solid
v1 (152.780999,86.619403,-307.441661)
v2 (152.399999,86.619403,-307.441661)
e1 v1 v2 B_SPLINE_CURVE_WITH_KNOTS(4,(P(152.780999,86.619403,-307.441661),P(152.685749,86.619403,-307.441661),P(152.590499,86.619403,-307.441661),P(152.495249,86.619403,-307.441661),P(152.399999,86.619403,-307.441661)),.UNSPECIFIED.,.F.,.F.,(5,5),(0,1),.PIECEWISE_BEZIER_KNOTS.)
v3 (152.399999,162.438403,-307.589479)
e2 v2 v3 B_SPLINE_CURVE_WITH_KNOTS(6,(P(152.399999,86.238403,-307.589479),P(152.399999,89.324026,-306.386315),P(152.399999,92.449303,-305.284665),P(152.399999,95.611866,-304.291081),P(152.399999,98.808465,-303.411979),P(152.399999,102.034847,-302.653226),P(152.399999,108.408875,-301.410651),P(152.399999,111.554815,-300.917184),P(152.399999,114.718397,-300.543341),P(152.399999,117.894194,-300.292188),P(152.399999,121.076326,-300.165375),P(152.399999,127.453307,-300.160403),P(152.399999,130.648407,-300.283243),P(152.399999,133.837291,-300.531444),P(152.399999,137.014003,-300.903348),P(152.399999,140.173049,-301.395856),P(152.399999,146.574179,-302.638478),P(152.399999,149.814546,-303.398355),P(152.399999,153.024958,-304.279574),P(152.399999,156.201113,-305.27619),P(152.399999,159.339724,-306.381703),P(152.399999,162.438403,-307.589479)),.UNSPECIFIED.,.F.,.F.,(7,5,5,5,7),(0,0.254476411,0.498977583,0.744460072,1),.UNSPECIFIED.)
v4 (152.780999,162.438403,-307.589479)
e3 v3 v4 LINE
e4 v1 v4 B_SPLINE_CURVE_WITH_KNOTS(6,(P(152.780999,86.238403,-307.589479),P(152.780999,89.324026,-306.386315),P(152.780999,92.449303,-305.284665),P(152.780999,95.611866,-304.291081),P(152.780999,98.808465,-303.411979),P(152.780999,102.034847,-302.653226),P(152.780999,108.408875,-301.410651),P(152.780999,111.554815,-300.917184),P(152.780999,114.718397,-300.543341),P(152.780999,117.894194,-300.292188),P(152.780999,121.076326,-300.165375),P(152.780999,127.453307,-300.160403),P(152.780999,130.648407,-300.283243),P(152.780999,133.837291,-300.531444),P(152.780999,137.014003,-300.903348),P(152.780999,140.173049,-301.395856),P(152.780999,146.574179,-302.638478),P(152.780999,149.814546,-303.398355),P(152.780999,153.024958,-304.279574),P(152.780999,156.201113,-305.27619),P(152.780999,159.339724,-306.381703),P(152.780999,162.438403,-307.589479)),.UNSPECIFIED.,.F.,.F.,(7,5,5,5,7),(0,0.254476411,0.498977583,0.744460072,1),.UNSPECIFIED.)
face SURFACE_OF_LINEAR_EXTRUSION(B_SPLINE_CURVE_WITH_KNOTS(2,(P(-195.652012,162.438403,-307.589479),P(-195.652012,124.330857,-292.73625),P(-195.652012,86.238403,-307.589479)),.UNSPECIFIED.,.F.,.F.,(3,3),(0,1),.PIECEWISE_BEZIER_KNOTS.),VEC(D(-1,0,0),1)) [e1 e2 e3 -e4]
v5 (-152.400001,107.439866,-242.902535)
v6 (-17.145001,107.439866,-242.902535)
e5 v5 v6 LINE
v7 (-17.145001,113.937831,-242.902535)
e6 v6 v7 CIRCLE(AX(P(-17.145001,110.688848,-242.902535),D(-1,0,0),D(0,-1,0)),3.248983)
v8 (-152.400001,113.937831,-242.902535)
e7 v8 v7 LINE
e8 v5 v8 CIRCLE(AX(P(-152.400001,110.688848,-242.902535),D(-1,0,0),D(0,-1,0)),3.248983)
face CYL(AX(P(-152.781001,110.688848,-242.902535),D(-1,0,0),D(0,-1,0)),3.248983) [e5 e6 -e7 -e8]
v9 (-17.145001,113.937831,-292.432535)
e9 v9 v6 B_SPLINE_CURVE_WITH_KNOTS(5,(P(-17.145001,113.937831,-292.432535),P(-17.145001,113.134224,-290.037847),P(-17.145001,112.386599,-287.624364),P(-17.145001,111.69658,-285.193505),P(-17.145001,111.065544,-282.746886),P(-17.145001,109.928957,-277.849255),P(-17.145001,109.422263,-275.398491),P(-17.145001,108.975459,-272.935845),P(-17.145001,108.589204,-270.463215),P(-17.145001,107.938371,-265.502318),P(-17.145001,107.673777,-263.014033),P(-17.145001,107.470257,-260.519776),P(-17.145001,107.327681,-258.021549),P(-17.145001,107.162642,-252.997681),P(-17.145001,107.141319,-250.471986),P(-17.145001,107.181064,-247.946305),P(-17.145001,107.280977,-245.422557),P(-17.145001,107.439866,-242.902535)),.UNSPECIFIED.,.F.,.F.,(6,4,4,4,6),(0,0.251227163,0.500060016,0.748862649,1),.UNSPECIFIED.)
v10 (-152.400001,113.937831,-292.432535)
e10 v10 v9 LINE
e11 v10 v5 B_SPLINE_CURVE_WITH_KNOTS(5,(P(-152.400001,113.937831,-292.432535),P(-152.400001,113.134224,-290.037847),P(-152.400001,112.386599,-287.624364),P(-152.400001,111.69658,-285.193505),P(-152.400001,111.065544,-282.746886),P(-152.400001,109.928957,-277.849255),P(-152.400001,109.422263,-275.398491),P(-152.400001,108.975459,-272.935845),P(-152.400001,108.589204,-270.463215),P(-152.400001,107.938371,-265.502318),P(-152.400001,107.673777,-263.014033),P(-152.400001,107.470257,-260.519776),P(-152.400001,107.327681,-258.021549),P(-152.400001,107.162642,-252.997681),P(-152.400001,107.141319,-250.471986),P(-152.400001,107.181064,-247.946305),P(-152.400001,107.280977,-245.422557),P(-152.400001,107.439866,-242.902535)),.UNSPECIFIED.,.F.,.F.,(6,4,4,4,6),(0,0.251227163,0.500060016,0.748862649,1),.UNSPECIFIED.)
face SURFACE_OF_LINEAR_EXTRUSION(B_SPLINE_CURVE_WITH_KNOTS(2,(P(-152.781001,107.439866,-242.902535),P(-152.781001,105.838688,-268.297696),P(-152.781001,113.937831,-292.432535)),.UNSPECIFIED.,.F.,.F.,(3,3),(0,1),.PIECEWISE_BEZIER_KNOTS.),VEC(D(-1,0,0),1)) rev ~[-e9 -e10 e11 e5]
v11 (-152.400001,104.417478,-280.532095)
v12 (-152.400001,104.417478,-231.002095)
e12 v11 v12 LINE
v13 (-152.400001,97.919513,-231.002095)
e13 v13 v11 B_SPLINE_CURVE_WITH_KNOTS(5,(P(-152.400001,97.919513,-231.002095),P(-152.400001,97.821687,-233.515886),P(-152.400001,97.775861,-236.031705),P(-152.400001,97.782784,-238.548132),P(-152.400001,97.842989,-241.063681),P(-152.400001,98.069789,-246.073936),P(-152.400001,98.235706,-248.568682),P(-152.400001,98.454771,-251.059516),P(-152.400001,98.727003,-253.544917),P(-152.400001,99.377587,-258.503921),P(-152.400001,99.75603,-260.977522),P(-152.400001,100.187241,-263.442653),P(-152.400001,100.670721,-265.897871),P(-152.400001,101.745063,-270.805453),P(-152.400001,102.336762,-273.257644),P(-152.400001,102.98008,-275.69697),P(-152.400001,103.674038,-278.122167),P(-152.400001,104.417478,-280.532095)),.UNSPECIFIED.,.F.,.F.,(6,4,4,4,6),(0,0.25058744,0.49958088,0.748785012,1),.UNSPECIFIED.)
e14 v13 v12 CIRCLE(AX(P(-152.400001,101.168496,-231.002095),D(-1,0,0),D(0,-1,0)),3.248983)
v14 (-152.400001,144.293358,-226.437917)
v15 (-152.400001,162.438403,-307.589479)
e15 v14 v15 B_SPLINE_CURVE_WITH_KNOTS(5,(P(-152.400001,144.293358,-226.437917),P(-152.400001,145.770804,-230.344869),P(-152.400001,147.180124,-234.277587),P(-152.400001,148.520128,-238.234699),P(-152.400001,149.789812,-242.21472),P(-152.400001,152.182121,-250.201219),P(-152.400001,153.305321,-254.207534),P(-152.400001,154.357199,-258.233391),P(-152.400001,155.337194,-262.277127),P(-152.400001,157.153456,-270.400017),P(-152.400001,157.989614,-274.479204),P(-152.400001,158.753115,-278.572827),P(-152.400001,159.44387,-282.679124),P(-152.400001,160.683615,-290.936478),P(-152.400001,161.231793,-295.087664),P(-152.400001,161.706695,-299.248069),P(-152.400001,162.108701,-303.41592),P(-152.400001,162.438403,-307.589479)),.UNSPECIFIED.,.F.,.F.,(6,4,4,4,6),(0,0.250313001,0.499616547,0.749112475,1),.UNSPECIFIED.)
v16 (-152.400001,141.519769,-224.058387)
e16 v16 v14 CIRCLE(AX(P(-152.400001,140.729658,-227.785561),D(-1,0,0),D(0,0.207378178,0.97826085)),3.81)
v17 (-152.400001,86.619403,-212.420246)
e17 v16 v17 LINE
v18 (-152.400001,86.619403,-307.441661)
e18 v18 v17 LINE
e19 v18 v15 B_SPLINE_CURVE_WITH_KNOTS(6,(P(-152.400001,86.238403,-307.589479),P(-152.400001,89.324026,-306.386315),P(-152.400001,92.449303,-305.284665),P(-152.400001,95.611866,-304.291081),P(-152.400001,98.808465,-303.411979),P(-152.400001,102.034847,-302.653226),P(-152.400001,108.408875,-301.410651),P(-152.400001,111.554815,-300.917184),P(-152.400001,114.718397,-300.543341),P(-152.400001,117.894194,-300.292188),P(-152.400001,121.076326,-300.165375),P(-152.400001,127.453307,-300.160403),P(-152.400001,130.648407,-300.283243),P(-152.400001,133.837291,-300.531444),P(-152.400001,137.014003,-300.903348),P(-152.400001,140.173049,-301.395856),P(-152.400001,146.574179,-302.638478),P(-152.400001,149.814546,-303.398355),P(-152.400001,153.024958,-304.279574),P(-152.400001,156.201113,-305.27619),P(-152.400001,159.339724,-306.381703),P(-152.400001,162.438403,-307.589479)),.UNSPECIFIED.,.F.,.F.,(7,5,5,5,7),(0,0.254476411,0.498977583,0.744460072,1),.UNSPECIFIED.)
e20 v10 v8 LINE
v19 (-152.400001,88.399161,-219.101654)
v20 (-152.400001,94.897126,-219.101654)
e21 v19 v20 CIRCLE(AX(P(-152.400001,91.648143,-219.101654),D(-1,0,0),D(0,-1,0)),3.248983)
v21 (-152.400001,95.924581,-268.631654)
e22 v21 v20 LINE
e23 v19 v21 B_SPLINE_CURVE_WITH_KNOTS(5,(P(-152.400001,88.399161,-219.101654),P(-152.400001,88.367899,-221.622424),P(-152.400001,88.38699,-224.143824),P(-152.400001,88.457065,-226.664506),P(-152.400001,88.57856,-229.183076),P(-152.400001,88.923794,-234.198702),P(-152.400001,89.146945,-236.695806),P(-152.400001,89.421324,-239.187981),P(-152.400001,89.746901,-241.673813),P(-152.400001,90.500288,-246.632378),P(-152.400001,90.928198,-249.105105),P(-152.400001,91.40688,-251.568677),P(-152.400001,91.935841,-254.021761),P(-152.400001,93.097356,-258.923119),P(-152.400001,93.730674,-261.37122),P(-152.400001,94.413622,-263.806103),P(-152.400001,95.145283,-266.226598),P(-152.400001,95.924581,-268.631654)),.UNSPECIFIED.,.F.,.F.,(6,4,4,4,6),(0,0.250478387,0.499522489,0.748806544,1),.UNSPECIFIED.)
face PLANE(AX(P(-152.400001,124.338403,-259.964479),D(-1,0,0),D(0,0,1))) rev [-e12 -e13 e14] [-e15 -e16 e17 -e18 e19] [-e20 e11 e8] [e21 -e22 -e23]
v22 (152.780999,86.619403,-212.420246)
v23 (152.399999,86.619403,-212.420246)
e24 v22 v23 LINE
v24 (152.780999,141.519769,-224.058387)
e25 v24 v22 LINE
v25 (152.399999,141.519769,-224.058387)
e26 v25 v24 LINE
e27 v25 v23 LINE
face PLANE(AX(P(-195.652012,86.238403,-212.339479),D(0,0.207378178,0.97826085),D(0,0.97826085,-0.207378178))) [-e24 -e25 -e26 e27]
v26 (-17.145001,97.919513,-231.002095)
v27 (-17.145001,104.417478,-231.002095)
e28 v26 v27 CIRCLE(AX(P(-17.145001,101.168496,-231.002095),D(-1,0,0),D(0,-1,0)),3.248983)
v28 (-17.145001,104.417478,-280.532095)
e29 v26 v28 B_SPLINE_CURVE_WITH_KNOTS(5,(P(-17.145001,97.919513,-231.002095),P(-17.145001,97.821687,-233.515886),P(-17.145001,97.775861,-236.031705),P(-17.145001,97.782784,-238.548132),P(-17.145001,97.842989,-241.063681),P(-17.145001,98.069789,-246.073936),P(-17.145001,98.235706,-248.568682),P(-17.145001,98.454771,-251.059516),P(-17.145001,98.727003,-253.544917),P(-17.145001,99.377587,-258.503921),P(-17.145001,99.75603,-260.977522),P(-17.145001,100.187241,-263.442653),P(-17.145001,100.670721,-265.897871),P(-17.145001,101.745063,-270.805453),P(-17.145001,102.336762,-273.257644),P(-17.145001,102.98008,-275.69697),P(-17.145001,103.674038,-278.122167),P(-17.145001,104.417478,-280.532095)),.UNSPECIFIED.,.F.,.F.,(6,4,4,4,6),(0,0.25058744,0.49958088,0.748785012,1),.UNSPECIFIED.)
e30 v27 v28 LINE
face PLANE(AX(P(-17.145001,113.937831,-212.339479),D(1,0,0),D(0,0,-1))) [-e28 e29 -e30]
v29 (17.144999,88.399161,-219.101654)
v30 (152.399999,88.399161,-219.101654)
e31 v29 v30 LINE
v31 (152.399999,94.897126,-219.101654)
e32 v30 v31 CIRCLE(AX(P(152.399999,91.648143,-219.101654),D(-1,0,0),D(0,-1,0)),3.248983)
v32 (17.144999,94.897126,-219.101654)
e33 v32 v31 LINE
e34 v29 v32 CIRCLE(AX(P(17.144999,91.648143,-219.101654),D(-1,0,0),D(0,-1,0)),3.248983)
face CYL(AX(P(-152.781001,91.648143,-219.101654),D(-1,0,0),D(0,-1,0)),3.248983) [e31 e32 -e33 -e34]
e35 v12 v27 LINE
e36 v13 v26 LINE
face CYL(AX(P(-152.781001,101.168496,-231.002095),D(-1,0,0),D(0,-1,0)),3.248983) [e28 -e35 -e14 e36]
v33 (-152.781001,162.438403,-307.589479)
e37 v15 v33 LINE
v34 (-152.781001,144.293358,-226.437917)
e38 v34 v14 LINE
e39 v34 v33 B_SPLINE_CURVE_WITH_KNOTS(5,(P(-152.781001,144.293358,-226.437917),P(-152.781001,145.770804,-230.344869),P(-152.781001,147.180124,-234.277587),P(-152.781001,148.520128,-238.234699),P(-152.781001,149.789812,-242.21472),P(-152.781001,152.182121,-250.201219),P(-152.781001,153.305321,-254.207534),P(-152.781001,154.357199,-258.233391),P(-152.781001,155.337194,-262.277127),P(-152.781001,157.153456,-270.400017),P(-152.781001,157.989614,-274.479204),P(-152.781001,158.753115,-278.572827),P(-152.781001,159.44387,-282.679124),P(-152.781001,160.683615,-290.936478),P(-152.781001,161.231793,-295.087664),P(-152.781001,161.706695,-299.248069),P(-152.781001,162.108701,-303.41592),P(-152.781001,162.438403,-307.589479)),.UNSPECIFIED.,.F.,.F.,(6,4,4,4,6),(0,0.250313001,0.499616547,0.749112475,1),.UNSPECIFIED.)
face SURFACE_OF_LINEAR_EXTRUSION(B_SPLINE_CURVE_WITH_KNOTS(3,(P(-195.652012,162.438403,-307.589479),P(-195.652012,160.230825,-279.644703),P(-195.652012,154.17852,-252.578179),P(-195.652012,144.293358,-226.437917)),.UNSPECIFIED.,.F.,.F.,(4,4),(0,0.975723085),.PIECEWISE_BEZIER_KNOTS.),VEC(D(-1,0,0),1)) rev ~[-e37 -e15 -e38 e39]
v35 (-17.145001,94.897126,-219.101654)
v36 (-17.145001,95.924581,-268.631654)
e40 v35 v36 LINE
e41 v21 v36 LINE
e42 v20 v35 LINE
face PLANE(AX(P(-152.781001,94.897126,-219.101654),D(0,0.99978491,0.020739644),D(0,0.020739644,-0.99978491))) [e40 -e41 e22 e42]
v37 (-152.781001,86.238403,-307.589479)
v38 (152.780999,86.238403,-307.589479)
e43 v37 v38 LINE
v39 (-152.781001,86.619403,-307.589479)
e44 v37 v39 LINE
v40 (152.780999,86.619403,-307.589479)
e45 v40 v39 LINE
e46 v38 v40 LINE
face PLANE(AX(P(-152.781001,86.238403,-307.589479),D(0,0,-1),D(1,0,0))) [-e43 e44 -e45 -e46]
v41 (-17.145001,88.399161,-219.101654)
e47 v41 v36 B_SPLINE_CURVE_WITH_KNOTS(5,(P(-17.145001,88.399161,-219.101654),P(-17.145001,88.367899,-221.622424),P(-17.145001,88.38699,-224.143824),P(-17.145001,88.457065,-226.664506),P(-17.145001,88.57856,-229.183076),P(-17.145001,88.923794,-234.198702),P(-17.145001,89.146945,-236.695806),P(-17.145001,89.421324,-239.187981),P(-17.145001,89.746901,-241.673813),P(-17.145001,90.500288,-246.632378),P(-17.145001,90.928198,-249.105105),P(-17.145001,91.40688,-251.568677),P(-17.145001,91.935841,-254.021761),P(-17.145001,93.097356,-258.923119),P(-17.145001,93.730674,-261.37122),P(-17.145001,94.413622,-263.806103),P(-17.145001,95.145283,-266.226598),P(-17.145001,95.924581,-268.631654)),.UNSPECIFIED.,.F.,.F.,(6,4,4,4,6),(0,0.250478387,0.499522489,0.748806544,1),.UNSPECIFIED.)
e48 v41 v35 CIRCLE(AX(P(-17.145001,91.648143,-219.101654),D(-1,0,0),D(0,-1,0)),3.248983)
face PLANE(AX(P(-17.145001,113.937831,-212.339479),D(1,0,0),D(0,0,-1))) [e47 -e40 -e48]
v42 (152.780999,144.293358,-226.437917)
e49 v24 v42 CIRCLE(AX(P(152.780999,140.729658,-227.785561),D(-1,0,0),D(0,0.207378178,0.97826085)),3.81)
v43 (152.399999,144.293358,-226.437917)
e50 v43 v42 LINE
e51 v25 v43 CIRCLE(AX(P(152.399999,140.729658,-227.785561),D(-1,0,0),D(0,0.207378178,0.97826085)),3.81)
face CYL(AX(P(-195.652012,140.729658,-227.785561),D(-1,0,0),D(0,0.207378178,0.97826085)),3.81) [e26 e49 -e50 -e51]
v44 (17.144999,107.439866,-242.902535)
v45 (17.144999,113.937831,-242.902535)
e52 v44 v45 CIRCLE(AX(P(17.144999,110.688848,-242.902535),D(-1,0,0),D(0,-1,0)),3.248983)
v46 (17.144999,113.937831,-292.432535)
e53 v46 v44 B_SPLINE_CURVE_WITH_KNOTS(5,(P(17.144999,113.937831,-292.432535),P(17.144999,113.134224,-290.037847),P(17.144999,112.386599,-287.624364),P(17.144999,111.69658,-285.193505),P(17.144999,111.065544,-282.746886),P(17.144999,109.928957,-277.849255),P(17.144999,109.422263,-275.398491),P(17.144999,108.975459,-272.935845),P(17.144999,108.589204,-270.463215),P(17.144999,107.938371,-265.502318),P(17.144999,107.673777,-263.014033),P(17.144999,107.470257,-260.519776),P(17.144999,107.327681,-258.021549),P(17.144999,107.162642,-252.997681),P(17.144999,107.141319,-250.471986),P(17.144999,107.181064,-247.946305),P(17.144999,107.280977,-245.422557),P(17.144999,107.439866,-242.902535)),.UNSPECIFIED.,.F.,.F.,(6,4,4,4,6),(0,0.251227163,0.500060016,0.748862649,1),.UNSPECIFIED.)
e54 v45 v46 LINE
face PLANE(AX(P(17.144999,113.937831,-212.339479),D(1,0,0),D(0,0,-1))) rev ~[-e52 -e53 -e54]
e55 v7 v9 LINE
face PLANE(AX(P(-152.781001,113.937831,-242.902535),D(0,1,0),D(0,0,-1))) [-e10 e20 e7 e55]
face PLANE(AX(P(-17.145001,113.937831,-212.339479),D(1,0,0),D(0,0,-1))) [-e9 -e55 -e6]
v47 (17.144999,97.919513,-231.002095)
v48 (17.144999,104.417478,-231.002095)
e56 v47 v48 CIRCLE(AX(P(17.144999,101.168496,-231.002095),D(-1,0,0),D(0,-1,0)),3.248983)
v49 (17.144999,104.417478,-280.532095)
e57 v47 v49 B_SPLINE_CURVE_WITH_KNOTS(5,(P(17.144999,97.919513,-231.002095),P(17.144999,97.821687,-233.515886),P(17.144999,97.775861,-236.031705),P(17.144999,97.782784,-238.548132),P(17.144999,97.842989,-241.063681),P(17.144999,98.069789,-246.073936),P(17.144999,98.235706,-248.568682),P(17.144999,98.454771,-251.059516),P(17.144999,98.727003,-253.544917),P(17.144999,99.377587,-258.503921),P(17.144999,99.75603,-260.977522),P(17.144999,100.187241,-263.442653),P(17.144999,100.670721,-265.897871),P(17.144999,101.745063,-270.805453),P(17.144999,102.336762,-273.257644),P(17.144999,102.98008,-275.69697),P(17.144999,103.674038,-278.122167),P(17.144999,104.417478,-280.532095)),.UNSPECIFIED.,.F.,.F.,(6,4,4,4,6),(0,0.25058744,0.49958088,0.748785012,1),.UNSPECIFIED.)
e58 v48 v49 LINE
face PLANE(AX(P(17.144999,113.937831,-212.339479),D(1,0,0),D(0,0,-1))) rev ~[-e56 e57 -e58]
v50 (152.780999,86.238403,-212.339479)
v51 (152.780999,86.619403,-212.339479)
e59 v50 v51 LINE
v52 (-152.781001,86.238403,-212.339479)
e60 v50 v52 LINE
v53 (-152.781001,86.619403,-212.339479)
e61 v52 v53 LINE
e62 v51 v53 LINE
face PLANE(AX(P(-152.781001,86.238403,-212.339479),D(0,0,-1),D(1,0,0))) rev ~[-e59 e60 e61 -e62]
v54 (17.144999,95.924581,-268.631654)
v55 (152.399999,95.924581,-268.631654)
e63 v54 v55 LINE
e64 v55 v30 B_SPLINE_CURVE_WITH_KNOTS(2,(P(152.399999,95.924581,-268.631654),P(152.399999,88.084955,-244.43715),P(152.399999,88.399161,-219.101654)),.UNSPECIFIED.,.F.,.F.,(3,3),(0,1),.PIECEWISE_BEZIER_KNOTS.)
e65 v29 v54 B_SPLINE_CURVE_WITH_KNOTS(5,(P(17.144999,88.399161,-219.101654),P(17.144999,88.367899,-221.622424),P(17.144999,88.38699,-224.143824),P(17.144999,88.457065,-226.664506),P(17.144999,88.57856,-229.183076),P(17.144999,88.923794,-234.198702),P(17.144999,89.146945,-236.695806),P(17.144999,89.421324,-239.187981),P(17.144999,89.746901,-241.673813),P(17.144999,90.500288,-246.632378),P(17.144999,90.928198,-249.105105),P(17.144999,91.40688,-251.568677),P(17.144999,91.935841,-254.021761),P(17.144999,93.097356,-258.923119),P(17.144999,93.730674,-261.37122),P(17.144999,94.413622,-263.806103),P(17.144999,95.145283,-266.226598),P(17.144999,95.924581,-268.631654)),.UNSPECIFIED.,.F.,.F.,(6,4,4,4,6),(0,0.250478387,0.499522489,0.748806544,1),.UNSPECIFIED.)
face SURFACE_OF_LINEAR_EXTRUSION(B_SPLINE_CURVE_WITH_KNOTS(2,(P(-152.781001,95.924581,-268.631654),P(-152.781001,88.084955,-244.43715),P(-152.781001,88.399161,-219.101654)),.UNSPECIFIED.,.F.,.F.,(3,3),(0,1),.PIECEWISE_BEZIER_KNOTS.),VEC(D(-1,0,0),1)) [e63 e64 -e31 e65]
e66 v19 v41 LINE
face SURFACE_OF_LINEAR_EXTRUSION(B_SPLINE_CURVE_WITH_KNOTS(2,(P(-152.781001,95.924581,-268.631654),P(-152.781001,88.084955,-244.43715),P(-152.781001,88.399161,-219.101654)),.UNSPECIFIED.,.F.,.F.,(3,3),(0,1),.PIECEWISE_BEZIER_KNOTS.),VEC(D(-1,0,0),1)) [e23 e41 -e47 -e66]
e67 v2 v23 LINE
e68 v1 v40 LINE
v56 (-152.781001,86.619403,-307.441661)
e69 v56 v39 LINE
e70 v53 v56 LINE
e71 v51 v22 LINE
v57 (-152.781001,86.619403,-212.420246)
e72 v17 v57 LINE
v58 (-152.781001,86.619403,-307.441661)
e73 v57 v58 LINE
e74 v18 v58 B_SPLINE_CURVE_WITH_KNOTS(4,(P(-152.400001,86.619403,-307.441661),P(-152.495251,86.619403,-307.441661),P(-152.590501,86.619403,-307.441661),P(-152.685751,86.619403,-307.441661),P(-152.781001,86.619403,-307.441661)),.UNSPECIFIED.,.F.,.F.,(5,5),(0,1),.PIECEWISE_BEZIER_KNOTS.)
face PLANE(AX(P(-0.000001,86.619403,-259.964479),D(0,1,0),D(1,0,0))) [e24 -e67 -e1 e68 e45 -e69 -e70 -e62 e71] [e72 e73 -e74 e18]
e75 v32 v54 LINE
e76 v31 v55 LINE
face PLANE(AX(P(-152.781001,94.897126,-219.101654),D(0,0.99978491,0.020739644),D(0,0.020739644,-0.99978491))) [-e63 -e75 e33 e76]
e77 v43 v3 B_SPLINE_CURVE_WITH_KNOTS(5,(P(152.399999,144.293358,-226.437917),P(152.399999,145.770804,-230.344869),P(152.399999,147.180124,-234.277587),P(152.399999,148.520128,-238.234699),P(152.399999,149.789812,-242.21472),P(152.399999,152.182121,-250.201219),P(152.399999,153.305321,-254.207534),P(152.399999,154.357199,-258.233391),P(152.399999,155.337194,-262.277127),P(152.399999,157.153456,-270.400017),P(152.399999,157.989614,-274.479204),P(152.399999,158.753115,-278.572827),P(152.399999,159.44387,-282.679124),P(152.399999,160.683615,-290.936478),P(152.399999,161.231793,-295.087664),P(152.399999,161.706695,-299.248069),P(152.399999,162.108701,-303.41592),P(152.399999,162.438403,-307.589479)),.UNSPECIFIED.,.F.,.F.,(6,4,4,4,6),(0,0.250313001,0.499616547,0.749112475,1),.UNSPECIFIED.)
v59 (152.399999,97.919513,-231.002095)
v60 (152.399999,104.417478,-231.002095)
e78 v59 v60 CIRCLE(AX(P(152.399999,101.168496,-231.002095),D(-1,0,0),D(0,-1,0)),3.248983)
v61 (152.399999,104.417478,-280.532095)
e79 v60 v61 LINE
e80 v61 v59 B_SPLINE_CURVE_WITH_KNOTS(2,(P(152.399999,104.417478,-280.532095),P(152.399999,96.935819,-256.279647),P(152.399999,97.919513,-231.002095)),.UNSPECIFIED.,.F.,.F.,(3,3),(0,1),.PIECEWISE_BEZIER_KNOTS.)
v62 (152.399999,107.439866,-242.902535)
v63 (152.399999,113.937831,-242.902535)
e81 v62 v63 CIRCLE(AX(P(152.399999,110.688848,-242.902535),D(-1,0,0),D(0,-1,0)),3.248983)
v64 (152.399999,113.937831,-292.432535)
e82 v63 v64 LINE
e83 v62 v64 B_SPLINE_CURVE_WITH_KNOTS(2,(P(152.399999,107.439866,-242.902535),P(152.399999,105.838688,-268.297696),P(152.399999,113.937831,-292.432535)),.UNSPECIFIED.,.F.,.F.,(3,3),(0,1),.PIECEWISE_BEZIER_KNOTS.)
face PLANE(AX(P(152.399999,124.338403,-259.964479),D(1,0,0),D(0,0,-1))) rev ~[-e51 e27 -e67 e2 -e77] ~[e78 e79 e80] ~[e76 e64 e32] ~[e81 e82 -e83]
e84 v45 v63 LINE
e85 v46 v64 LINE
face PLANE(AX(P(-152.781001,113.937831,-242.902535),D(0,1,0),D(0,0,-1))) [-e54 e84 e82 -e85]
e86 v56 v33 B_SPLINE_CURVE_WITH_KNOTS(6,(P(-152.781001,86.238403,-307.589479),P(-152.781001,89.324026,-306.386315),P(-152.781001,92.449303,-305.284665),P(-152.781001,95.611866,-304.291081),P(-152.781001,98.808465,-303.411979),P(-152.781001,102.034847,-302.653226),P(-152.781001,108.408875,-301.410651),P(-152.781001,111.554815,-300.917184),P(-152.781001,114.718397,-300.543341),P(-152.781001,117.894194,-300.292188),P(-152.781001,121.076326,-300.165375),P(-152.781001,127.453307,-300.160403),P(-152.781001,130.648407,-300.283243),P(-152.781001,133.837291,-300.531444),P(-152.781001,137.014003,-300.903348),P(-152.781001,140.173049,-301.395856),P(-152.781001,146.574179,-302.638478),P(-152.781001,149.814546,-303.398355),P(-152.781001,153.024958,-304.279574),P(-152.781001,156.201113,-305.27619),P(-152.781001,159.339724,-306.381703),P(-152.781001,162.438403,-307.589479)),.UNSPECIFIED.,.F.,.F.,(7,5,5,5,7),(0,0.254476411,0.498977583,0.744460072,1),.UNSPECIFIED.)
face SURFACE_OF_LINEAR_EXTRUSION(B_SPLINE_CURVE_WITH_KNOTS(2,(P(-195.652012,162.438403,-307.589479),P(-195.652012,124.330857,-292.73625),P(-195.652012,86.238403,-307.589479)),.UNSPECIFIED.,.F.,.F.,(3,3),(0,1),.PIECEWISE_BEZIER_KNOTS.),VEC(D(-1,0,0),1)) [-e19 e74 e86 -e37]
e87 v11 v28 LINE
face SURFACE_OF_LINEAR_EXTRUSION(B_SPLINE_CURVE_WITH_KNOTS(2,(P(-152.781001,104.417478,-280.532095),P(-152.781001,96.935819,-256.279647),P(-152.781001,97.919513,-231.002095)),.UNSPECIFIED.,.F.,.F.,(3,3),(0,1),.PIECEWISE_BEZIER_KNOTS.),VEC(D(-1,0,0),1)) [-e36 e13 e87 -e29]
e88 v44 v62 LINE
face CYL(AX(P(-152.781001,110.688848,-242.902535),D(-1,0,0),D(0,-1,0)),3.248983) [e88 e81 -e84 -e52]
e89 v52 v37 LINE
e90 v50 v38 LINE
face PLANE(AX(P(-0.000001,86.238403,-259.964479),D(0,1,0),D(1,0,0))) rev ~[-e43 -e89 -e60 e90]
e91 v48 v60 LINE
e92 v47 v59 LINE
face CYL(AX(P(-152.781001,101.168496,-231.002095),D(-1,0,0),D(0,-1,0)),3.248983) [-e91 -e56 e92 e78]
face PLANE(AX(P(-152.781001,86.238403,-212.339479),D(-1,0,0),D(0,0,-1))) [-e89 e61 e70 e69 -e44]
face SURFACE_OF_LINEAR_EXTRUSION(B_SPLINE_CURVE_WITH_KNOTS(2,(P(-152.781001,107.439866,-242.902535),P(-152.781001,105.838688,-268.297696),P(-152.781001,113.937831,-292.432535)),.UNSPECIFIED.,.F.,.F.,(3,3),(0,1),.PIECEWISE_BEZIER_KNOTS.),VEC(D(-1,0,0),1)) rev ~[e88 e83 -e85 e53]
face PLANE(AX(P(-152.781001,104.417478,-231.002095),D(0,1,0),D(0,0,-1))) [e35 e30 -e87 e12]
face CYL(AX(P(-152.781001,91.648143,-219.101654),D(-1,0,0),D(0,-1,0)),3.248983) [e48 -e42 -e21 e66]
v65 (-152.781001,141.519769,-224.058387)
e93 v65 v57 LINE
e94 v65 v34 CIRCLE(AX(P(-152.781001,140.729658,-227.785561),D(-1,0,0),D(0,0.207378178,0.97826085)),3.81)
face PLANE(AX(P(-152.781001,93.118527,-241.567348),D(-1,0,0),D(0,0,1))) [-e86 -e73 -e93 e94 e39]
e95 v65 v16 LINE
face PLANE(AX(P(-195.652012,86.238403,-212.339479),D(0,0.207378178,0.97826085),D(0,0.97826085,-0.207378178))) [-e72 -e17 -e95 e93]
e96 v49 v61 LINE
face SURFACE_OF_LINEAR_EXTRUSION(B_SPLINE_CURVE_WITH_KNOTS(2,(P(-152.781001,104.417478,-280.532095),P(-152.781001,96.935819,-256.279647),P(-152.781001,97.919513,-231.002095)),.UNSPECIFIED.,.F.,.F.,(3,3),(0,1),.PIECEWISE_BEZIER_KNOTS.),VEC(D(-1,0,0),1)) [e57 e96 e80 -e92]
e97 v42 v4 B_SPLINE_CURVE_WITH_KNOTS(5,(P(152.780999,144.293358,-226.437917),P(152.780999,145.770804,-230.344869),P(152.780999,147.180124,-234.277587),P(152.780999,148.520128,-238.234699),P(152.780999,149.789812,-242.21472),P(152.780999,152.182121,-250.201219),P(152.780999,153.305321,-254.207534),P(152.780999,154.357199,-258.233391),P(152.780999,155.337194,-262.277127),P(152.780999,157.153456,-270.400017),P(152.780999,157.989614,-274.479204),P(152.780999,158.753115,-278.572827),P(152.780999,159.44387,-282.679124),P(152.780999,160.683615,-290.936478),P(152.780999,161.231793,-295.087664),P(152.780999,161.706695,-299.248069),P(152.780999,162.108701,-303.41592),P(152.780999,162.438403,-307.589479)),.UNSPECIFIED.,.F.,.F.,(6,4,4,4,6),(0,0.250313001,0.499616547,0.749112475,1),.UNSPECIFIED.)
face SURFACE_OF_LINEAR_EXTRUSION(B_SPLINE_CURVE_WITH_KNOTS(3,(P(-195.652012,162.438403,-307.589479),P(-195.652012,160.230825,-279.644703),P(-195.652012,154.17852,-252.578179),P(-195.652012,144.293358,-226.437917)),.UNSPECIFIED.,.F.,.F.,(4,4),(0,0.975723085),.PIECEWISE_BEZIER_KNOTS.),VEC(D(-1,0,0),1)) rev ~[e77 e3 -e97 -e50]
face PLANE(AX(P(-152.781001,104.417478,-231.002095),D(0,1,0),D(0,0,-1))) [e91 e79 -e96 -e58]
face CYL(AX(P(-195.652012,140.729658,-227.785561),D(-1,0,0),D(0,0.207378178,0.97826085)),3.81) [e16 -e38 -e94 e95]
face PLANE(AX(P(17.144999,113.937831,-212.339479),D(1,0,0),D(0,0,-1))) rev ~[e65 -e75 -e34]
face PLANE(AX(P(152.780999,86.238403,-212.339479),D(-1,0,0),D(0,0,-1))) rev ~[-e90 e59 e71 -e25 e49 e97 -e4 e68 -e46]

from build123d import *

# Parameters (mm, degrees)
BOSS_EXTRUDE1_START      = 1016
SKETCH1_W                = 635
SKETCH1_H                = 508
BOSS_EXTRUDE1_DEPTH      = 2.54
CUT_EXTRUDE1_DEPTH       = 1304.346742659
CUT_EXTRUDE1_DEPTH_BACK  = 1304.346742659
CUT_EXTRUDE2_DEPTH       = 1304.346742825
CUT_EXTRUDE2_DEPTH_BACK  = 1304.346742825
BOSS_EXTRUDE2_DEPTH      = 1016
BOSS_EXTRUDE2_DEPTH_BACK = 1018.54
SKETCH6_W                = 2037.0800025
SKETCH6_H                = 635
BOSS_EXTRUDE3_DEPTH      = 2.54
SKETCH7_W                = 228.6
SKETCH7_H                = 635
CUT_EXTRUDE3_DEPTH       = 182.122850144
SCALE1_SCALE             = 0.15


with BuildPart() as part:
    # Sketch1 → Boss-Extrude1 (new body)
    with BuildSketch(Plane(origin=(0, 0, 0), x_dir=(0, 0, -1), z_dir=(1, 0, 0)).offset(BOSS_EXTRUDE1_START)):
        with Locations((317.5, 254)):
            Rectangle(SKETCH1_W, SKETCH1_H)
    extrude(amount=BOSS_EXTRUDE1_DEPTH)


with BuildPart() as body_2:
    # Mirror2: mirrored copy
    add(part.part.mirror(Plane(origin=(0, 0, 0), x_dir=(0, 0, 1), z_dir=(1, 0, 0))))


with BuildPart() as cut_extrude1_tool:
    # Sketch2 → Cut-Extrude1 (new, two sides: drawn at the far end of the back side and taken through both)
    with BuildSketch(Plane(origin=(0, 0, 0), x_dir=(0, 0, -1), z_dir=(1, 0, 0)).offset(-CUT_EXTRUDE1_DEPTH_BACK)):
        with BuildLine():
            Line((635, 508), (635, 0))
            add(Edge.make_bspline(
                [(635, 508), (535.978469305, 253.949693989), (635, 0)],
                knots=[0, 0, 0, 1, 1, 1], degree=2))
        make_face()
    extrude(amount=CUT_EXTRUDE1_DEPTH + CUT_EXTRUDE1_DEPTH_BACK)


with BuildPart() as part_1:
    add(part.part)

    # Cut-Extrude1: cut by cut_extrude1_tool
    add(cut_extrude1_tool.part, mode=Mode.SUBTRACT)


with BuildPart() as body_2_1:
    add(body_2.part)

    # Cut-Extrude1: cut by cut_extrude1_tool
    add(cut_extrude1_tool.part, mode=Mode.SUBTRACT)


with BuildPart() as cut_extrude2_tool:
    # Sketch3 → Cut-Extrude2 (new, two sides: drawn at the far end of the back side and taken through both)
    with BuildSketch(Plane(origin=(0, 0, 0), x_dir=(0, 0, -1), z_dir=(1, 0, 0)).offset(-CUT_EXTRUDE2_DEPTH_BACK)):
        with BuildLine():
            Line((0, 0), (78.126052631, 368.542434052))
            ThreePointArc((78.126052631, 368.542434052), (83.696209203, 379.813815366), (93.989588341, 387.033027713))
            add(Edge.make_bspline(
                [(635, 508), (448.701490757, 493.282812039), (268.257998273, 452.93411167), (93.989588341, 387.033027713)],
                knots=[0, 0, 0, 0, 0.975723085, 0.975723085, 0.975723085, 0.975723085], degree=3))
            Line((635, 508), (0, 508))
            Line((0, 508), (0, 0))
        make_face()
    extrude(amount=CUT_EXTRUDE2_DEPTH + CUT_EXTRUDE2_DEPTH_BACK)


with BuildPart() as part_2:
    add(part_1.part)

    # Cut-Extrude2: cut by cut_extrude2_tool
    add(cut_extrude2_tool.part, mode=Mode.SUBTRACT)



with BuildPart() as body_2_2:
    add(body_2_1.part)

    # Cut-Extrude2: cut by cut_extrude2_tool
    add(cut_extrude2_tool.part, mode=Mode.SUBTRACT)


with BuildPart() as part_3:
    add(part_2.part)

    add(body_2_2.part)  # Boss-Extrude2 merges body 2
    # Sketch4 → Boss-Extrude2 (add, two sides: drawn at the far end of the back side and taken through both)
    with BuildSketch(Plane(origin=(0, 0, 0), x_dir=(0, 0, -1), z_dir=(1, 0, 0)).offset(-BOSS_EXTRUDE2_DEPTH_BACK)):
        with BuildLine():
            Line((45.081165504, 57.724816481), (375.281165504, 64.574520115))
            add(Edge.make_bspline(
                [(375.281165504, 64.574520115), (213.984471731, 12.310346682), (45.081165504, 14.405048326)],
                knots=[0, 0, 0, 1, 1, 1], degree=2))
            ThreePointArc((45.081165504, 14.405048326), (23.421281427, 36.064932403), (45.081165504, 57.724816481))
        make_face()
        with BuildLine():
            Line((124.417436543, 121.193833312), (454.617436543, 121.193833312))
            add(Edge.make_bspline(
                [(454.617436543, 121.193833312), (292.934450552, 71.316103557), (124.417436543, 77.874065157)],
                knots=[0, 0, 0, 1, 1, 1], degree=2))
            ThreePointArc((124.417436543, 77.874065157), (102.757552466, 99.533949235), (124.417436543, 121.193833312))
        make_face()
        with BuildLine():
            Line((203.753707583, 184.662850144), (533.953707583, 184.662850144))
            add(Edge.make_bspline(
                [(203.753707583, 141.343081989), (373.054781607, 130.66856222), (533.953707583, 184.662850144)],
                knots=[0, 0, 0, 1, 1, 1], degree=2))
            ThreePointArc((203.753707583, 141.343081989), (182.093823506, 163.002966066), (203.753707583, 184.662850144))
        make_face()
    extrude(amount=BOSS_EXTRUDE2_DEPTH + BOSS_EXTRUDE2_DEPTH_BACK)

    # Sketch6 → Boss-Extrude3 (add)
    with BuildSketch(Plane(origin=(0, 0, 0), x_dir=(1, 0, 0), z_dir=(0, 1, 0))):
        with Locations((-1.25e-06, 317.5)):
            Rectangle(SKETCH6_W, SKETCH6_H)
    extrude(amount=BOSS_EXTRUDE3_DEPTH)

    # Sketch7 → Cut-Extrude3 (cut)
    with BuildSketch(Plane(origin=(0, 184.662850144, 0), x_dir=(1, 0, 0), z_dir=(0, 1, 0))):
        with Locations((0, 317.5)):
            Rectangle(SKETCH7_W, SKETCH7_H)
    extrude(amount=-CUT_EXTRUDE3_DEPTH, mode=Mode.SUBTRACT)


with BuildPart() as part_4:
    # Scale1: scaled about (-9.86e-07, 101.456945175, -249.81115195)
    add(part_3.part.scale(SCALE1_SCALE).moved(Location((-8.38e-07, 86.238403399, -212.339479157))))


solid = part_4.part
